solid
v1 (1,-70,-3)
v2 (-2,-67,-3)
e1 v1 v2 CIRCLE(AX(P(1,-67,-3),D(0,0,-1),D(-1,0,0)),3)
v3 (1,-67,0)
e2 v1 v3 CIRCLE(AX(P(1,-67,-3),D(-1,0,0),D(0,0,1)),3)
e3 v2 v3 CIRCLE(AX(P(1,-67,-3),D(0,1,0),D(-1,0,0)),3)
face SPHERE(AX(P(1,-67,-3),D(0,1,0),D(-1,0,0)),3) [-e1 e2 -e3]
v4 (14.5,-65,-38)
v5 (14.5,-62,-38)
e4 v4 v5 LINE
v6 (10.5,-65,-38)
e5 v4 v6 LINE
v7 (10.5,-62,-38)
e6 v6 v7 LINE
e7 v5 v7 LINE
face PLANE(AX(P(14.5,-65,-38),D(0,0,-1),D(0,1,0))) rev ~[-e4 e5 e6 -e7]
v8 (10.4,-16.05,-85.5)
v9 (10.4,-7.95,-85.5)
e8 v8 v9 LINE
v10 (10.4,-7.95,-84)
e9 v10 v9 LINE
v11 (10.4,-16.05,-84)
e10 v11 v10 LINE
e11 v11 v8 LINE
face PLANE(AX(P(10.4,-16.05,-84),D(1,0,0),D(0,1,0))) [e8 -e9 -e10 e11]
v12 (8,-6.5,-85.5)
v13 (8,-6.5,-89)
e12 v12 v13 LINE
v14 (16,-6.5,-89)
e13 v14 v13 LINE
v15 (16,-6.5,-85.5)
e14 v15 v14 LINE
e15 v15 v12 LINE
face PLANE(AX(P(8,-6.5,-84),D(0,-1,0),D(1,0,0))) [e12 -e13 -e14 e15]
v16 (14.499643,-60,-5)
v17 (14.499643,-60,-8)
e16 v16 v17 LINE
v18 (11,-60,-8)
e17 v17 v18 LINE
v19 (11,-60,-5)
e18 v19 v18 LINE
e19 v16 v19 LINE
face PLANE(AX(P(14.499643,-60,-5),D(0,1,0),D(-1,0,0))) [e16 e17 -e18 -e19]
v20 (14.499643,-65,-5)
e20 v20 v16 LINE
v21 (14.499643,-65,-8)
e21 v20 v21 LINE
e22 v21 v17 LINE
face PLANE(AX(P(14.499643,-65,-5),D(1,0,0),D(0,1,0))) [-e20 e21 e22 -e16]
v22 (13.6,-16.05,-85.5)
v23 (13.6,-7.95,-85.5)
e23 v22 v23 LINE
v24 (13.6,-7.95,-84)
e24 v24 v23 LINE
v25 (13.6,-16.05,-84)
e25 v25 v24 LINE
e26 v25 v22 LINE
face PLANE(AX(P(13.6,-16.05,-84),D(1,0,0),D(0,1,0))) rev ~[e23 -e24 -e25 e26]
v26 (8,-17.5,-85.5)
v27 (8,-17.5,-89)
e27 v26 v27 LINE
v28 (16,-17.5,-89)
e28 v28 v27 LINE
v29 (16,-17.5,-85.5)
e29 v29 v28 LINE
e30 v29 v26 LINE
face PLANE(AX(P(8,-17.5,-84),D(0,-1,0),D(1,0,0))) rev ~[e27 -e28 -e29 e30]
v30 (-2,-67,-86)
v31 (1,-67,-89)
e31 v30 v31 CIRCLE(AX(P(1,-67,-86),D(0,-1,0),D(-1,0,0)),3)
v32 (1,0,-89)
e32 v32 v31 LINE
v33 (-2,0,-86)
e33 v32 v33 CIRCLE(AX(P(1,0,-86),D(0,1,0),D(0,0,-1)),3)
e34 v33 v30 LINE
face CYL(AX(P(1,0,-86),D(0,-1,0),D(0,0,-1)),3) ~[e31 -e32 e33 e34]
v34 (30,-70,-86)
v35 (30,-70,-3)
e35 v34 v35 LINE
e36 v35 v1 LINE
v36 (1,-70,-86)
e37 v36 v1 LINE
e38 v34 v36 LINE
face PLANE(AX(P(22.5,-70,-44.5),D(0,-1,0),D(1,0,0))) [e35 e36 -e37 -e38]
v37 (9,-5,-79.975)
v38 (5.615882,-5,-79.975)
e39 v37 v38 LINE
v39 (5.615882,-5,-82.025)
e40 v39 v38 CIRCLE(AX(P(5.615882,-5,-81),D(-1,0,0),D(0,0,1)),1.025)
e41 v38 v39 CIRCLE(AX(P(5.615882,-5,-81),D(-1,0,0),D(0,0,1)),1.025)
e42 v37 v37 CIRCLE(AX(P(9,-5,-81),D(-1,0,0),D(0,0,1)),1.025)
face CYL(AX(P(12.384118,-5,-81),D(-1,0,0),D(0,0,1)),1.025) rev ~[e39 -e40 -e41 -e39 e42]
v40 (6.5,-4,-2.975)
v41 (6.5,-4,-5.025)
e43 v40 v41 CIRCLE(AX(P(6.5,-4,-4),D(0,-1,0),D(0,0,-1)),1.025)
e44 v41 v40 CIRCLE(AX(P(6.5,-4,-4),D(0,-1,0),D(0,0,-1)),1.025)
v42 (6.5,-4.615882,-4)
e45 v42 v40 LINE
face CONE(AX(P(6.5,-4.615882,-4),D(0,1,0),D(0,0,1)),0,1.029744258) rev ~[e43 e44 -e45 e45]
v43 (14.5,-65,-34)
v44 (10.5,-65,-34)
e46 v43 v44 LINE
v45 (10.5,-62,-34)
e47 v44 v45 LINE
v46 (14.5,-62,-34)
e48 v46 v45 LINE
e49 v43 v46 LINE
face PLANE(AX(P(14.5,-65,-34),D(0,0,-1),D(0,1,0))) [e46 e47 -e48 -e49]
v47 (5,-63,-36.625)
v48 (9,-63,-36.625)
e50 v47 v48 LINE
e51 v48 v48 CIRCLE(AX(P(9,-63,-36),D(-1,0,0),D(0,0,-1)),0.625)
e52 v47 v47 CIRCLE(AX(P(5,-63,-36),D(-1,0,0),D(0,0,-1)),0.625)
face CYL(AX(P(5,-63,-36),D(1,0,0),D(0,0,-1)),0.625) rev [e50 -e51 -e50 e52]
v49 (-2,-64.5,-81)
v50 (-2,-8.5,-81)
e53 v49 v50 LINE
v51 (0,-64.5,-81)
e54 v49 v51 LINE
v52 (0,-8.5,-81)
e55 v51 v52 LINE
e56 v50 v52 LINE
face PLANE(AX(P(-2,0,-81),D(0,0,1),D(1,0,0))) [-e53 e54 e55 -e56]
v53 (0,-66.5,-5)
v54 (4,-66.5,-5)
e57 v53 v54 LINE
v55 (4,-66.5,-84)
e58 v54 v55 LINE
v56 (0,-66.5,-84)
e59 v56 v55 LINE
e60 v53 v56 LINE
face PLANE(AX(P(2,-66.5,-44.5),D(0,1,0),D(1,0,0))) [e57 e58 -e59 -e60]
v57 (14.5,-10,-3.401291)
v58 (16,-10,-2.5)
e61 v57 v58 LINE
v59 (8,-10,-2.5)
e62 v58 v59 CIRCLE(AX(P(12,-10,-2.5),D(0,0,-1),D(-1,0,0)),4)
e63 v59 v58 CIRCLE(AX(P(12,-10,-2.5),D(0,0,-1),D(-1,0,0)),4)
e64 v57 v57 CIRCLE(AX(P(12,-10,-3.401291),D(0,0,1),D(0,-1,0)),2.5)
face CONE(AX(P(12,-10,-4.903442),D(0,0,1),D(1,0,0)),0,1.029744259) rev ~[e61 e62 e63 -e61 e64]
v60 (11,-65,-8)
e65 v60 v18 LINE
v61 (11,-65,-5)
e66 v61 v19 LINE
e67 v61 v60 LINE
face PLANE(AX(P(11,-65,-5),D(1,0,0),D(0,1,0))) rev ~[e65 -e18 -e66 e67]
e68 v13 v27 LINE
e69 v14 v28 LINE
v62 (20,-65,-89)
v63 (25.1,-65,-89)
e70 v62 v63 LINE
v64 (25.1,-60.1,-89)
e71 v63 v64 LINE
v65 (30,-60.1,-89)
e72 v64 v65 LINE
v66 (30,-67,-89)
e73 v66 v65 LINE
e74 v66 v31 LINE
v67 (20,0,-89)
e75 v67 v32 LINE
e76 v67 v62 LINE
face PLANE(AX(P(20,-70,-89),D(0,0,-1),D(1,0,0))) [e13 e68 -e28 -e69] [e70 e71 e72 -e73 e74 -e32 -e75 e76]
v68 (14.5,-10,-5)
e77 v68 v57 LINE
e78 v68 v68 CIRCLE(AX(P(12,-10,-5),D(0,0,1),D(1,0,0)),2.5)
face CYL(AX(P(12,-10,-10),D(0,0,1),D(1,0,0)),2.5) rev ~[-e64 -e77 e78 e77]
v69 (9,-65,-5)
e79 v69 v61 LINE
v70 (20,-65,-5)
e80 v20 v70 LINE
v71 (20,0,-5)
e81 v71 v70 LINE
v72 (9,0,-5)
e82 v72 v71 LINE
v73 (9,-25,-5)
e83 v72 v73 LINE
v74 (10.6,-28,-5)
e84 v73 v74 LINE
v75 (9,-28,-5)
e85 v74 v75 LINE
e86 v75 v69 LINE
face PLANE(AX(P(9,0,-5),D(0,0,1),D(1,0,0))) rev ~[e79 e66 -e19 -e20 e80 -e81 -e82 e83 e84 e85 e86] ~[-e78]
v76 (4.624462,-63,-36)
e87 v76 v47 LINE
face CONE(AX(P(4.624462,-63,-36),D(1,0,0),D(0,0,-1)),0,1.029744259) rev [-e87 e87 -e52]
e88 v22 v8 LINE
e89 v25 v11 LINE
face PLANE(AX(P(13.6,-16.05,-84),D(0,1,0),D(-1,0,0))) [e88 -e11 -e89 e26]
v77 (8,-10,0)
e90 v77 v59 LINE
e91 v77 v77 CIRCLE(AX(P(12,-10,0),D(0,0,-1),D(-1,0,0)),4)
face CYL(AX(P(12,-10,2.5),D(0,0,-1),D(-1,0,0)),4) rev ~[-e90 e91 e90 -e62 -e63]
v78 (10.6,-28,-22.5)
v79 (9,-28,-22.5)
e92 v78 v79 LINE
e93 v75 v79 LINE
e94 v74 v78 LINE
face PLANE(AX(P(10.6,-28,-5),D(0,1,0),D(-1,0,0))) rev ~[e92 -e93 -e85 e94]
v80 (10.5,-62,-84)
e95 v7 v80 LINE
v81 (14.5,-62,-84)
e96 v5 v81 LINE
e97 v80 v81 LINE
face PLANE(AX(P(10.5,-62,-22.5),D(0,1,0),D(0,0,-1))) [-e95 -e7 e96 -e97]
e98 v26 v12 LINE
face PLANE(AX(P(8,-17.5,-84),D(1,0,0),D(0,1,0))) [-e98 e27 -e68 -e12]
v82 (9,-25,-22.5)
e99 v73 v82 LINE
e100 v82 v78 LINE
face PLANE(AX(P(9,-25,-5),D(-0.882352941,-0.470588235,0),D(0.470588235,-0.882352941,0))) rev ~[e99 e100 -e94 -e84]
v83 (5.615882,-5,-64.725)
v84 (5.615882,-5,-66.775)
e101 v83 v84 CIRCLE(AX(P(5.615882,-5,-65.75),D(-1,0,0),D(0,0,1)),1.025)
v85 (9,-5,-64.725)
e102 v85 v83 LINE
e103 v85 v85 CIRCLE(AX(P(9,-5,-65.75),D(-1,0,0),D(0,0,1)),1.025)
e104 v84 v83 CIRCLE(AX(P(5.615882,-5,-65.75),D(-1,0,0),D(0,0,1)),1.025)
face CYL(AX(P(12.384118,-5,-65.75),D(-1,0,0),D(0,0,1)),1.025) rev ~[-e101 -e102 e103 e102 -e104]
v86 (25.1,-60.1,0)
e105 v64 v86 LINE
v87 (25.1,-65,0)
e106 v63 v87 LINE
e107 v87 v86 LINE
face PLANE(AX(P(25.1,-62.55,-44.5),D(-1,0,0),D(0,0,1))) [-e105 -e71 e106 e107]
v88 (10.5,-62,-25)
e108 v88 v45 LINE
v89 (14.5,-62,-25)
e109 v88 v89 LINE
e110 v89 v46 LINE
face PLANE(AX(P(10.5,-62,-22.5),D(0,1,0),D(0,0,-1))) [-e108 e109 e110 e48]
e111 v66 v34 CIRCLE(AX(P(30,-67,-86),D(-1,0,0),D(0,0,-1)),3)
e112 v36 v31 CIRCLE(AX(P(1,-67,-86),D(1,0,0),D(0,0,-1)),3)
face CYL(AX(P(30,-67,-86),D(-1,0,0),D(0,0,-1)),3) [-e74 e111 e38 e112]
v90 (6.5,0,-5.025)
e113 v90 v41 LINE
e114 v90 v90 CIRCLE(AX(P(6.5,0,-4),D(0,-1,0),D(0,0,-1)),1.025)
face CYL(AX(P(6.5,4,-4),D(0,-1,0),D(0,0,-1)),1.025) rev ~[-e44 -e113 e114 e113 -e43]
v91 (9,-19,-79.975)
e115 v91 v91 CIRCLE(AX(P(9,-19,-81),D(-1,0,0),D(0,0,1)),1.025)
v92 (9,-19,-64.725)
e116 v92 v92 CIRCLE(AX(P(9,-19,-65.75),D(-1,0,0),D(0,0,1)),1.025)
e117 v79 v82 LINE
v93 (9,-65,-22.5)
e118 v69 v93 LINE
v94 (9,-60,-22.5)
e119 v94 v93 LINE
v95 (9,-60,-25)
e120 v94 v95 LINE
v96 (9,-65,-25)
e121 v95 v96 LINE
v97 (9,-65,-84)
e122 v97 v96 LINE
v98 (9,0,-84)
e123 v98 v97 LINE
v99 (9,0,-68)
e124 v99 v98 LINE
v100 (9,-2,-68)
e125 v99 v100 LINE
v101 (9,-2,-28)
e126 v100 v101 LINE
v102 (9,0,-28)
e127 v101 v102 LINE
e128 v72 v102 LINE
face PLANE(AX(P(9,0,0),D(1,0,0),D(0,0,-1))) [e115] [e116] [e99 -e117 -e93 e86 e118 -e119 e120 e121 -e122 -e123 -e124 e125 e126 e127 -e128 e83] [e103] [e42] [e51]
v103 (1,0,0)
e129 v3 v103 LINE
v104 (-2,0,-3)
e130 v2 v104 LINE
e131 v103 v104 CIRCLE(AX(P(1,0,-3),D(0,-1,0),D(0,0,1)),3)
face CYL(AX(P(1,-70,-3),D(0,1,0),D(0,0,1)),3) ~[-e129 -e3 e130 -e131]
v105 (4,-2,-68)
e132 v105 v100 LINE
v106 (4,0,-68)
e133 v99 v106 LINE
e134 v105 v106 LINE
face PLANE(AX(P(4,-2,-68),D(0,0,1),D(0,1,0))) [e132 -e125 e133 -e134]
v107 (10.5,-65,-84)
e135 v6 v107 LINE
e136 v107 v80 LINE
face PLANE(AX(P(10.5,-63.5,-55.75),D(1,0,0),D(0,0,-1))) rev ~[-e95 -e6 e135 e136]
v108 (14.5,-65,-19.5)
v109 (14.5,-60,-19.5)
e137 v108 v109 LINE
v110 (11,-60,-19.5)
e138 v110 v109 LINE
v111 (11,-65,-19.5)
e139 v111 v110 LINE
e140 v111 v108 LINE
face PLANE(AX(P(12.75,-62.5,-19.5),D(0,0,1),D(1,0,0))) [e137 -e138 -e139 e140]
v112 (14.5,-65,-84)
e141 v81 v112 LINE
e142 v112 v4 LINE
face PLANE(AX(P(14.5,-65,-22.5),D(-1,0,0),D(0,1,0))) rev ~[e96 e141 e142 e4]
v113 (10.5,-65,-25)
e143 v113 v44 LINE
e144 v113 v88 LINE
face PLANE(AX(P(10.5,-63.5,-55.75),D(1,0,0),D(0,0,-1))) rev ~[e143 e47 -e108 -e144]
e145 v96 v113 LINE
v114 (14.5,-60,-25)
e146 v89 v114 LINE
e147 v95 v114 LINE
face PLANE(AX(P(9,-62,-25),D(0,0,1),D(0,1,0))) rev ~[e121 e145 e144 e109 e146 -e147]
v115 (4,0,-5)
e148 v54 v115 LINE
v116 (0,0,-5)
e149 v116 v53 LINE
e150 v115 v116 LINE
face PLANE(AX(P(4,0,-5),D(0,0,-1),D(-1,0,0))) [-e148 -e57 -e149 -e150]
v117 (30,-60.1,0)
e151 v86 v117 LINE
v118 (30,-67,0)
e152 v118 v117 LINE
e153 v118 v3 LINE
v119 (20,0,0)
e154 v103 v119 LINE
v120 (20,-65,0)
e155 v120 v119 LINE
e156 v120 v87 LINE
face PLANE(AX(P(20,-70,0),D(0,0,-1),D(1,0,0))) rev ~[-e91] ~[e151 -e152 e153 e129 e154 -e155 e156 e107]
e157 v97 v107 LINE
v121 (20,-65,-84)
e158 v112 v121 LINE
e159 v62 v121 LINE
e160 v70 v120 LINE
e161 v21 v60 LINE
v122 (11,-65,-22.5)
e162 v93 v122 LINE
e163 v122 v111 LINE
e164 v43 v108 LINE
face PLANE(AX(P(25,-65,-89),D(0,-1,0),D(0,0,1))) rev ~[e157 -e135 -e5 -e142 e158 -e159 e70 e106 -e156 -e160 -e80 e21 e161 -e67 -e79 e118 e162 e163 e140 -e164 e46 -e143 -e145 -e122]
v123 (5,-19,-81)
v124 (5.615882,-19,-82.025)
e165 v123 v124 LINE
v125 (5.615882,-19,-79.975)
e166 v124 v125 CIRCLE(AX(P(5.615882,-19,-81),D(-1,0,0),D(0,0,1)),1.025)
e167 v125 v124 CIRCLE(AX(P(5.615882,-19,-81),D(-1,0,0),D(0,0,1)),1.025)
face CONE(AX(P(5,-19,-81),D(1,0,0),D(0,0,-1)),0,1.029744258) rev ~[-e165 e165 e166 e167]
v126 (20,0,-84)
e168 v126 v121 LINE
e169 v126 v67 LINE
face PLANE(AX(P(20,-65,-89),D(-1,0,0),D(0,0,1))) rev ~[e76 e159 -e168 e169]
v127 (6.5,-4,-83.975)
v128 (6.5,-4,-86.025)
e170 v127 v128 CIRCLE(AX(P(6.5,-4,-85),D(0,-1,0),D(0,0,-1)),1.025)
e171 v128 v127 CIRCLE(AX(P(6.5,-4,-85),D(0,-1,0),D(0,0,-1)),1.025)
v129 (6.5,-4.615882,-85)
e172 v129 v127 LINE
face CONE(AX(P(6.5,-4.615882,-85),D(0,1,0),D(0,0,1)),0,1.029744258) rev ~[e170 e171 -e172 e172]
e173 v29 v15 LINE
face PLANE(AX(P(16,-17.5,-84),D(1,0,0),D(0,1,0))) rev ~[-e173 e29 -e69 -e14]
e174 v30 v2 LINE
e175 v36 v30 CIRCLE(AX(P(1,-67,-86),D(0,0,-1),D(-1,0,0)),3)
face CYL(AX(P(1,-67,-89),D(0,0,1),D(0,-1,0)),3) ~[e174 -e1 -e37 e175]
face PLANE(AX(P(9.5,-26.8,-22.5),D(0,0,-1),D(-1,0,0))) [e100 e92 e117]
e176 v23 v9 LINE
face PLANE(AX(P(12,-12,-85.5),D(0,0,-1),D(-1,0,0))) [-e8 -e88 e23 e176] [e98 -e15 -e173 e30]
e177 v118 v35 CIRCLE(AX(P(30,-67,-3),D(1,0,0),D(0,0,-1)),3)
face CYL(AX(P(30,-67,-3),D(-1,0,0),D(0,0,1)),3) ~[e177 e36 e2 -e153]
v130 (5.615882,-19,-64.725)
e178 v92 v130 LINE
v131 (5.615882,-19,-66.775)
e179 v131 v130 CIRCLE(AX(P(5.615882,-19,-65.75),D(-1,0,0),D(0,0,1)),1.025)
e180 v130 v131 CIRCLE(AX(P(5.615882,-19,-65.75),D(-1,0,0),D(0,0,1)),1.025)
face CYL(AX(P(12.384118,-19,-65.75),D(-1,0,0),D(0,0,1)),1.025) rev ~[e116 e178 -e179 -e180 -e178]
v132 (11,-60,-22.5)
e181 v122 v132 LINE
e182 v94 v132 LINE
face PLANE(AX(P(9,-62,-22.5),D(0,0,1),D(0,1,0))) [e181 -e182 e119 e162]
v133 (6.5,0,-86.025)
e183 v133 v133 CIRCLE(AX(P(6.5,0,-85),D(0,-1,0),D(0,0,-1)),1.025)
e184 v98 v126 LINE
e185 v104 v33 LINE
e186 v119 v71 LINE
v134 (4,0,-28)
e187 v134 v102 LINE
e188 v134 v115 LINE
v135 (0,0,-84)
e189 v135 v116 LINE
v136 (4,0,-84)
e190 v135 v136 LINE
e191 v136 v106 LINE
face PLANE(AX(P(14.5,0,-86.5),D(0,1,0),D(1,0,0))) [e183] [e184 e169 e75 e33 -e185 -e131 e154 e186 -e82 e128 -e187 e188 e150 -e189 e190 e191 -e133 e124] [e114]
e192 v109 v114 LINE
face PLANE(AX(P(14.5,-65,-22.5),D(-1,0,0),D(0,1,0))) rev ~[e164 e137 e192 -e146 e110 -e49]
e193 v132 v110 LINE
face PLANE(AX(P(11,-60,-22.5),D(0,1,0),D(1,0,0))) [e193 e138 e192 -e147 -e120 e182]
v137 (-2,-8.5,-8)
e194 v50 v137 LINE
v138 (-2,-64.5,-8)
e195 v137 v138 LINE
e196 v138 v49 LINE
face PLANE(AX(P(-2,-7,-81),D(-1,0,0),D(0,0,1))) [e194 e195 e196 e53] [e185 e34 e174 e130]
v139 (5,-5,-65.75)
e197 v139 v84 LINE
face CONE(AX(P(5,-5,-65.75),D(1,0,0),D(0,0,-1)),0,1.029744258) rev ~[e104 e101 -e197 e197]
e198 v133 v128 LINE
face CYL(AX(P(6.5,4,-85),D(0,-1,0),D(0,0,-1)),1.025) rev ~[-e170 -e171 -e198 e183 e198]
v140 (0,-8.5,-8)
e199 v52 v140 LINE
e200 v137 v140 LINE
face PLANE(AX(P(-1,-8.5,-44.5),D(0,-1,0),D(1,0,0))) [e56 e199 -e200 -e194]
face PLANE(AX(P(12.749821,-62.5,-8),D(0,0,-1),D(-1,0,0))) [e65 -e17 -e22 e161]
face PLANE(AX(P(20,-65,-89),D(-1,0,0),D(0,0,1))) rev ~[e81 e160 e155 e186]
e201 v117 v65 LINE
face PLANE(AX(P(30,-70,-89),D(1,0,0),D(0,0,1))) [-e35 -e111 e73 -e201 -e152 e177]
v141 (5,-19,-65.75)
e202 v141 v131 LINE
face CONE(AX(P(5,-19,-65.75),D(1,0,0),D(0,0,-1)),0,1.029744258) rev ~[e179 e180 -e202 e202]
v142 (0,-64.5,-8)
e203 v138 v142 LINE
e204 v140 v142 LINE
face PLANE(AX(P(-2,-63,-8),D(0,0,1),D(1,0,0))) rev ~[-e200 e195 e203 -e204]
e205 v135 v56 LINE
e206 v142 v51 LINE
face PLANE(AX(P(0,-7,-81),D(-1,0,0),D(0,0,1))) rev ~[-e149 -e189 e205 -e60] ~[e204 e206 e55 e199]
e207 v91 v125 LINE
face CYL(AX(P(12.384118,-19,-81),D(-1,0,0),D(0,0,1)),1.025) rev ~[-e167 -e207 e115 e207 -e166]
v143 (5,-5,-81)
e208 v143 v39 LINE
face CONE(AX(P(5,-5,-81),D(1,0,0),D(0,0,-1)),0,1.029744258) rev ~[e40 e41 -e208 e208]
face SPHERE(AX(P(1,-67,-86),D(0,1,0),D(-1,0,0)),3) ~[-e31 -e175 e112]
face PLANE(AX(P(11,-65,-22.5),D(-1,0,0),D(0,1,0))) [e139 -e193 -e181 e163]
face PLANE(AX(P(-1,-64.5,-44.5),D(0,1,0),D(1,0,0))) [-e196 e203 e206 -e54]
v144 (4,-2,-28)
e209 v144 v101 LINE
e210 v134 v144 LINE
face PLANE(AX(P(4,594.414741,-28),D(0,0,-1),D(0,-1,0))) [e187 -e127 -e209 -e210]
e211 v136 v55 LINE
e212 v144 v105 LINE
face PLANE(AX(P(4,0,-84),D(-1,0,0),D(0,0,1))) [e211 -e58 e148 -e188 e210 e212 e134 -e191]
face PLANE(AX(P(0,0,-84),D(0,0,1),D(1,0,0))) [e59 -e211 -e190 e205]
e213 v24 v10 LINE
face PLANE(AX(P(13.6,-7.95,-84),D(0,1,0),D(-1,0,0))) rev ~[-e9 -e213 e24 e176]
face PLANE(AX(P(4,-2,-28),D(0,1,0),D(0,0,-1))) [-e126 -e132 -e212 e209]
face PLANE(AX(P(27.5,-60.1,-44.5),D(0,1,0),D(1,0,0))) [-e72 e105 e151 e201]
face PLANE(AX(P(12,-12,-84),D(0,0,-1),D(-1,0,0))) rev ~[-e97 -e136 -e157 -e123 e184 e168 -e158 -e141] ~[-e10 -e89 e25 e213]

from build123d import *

# Parameters (mm, degrees)
BOSS_EXTRUDE4_DEPTH          = 65
SKETCH5_W                    = 73
SKETCH5_H                    = 7
SKETCH5_H_2                  = 2
BOSS_EXTRUDE5_DEPTH          = 2
CUT_EXTRUDE8_DEPTH           = 111.756489652
CUT_EXTRUDE8_DEPTH_BACK      = 5
SKETCH9_W                    = 5
SKETCH9_H                    = 3
SKETCH9_W_2                  = 2.5
BOSS_EXTRUDE8_DEPTH          = 1.5
SKETCH10_W                   = 66.5
SKETCH10_H                   = 3
BOSS_EXTRUDE9_DEPTH          = 4
M2_5X0_45_TAPPED_HOLE1_D     = 2.05
M2_5X0_45_TAPPED_HOLE1_DEPTH = 3.384117865
M2_5X0_45_TAPPED_HOLE1_TIP   = 0.615882135
SKETCH17_W                   = 11
SKETCH17_H                   = 5
BOSS_EXTRUDE20_DEPTH         = 65
CUT_EXTRUDE10_REACH          = 110.079
SKETCH18_W                   = 8
SKETCH18_H                   = 11
SKETCH20_W                   = 2.5
SKETCH20_H                   = 2
BOSS_EXTRUDE13_DEPTH         = 5.5
SKETCH22_W                   = 3.5
SKETCH22_H                   = 5
BOSS_EXTRUDE21_DEPTH         = 3
SKETCH23_W                   = 3.499642839
SKETCH23_H                   = 5
BOSS_EXTRUDE17_DEPTH         = 3
BOSS_EXTRUDE18_DEPTH         = 17.5
SKETCH27_W                   = 4
SKETCH27_H                   = 3
CUT_EXTRUDE12_DEPTH          = 5.5
M2_5X0_45_TAPPED_HOLE2_D     = 2.05
M2_5X0_45_TAPPED_HOLE2_DEPTH = 4
M2_5X0_45_TAPPED_HOLE2_TIP   = 0.615882135
SKETCH31_W                   = 8
SKETCH31_H                   = 11
SKETCH31_W_2                 = 3.2
SKETCH31_H_2                 = 8.1
BOSS_EXTRUDE22_DEPTH         = 1.5
F_5_0MM_DOWEL_HOLE1_D        = 5
F_5_0MM_DOWEL_HOLE1_DEPTH    = 5
SKETCH36_W                   = 22
SKETCH36_H                   = 89
BOSS_EXTRUDE23_DEPTH         = 5
F_8_0MM_DOWEL_HOLE1_D        = 8
F_8_0MM_DOWEL_HOLE1_DEPTH    = 2.5
F_8_0MM_DOWEL_HOLE1_TIP      = 2.403442476
SKETCH42_W                   = 2
SKETCH42_H                   = 73
BOSS_EXTRUDE25_DEPTH         = 1.5
SKETCH43_W                   = 2
SKETCH43_H                   = 73
CUT_EXTRUDE13_DEPTH          = 1.5
SKETCH44_W                   = 4
SKETCH44_H                   = 79
CUT_EXTRUDE14_DEPTH          = 1.5
SKETCH46_W                   = 5
SKETCH46_H                   = 89
BOSS_EXTRUDE26_DEPTH         = 10
SKETCH46_3_W                 = 5
SKETCH46_3_H                 = 89
BOSS_EXTRUDE27_DEPTH         = 5
FILLET1_R                    = 3
SKETCH47_W                   = 5
SKETCH47_H                   = 89
CUT_EXTRUDE15_DEPTH          = 0.1
SKETCH48_W                   = 89
SKETCH48_H                   = 4.9
CUT_EXTRUDE16_DEPTH          = 0.1


with BuildPart() as part:
    # Sketch4 → Boss-Extrude4 (new body)
    with BuildSketch(Plane(origin=(0, 0, 0), x_dir=(1, 0, 0), z_dir=(0, 1, 0))):
        Polygon((0, 0), (9, 0), (9, 89), (0, 89), (-2, 89), (-2, 81), (0, 81), (0, 84), (4, 84), (4, 5), (0, 5), (0, 8), (-2, 8), (-2, 0), align=None)
    extrude(amount=-BOSS_EXTRUDE4_DEPTH)

    # Sketch5 → Boss-Extrude5 (add)
    with BuildSketch(Plane.ZY.offset(2)):
        with Locations((-44.5, -3.5)):
            Rectangle(SKETCH5_W, SKETCH5_H)
        with Locations((-44.5, -64)):
            Rectangle(SKETCH5_W, SKETCH5_H_2)
    extrude(amount=-BOSS_EXTRUDE5_DEPTH)

    # Sketch8 → Cut-Extrude8 (cut, two sides: drawn at the far end of the back side and taken through both)
    with BuildSketch(Plane(origin=(9, 0, 0), x_dir=(0, 0, -1), z_dir=(1, 0, 0)).offset(-CUT_EXTRUDE8_DEPTH_BACK)):
        Polygon((28, 198.138247042), (28, 0), (28, -2), (68, -2), (68, 0), (68, 198.138247042), (68, 594.414741126), (28, 594.414741126), align=None)
    extrude(amount=CUT_EXTRUDE8_DEPTH + CUT_EXTRUDE8_DEPTH_BACK, mode=Mode.SUBTRACT)

    # Sketch9 → Boss-Extrude8 (add)
    with BuildSketch(Plane(origin=(9, 0, 0), x_dir=(0, 0, -1), z_dir=(1, 0, 0))):
        with Locations((86.5, -63.5)):
            Rectangle(SKETCH9_W, SKETCH9_H)
        with Locations((23.75, -63.5)):
            Rectangle(SKETCH9_W_2, SKETCH9_H)
    extrude(amount=BOSS_EXTRUDE8_DEPTH)

    # Sketch10 → Boss-Extrude9 (add)
    with BuildSketch(Plane(origin=(10.5, 0, 0), x_dir=(0, 0, -1), z_dir=(1, 0, 0))):
        with Locations((55.75, -63.5)):
            Rectangle(SKETCH10_W, SKETCH10_H)
    extrude(amount=BOSS_EXTRUDE9_DEPTH)

    # M2.5x0.45 Tapped Hole1
    with Locations(Plane(origin=(9, 0, 0), x_dir=(0, 0, -1), z_dir=(1, 0, 0))):
        with Locations((81, -5), (65.75, -19), (81, -19), (65.75, -5)):
            Hole(M2_5X0_45_TAPPED_HOLE1_D / 2, depth=M2_5X0_45_TAPPED_HOLE1_DEPTH)
            with Locations((0, 0, -(M2_5X0_45_TAPPED_HOLE1_DEPTH + M2_5X0_45_TAPPED_HOLE1_TIP / 2))):  # 118° drill point
                Cone(0, M2_5X0_45_TAPPED_HOLE1_D / 2, M2_5X0_45_TAPPED_HOLE1_TIP, mode=Mode.SUBTRACT)

    # Sketch17 → Boss-Extrude20 (add)
    with BuildSketch(Plane(origin=(0, 0, 0), x_dir=(1, 0, 0), z_dir=(0, 1, 0))):
        with Locations((14.5, 86.5)):
            Rectangle(SKETCH17_W, SKETCH17_H)
        with Locations((14.5, 2.5)):
            Rectangle(SKETCH17_W, SKETCH17_H)
    extrude(amount=-BOSS_EXTRUDE20_DEPTH)

    # Sketch18 → Cut-Extrude10 (cut, up to next)
    with BuildSketch(Plane.XY.offset(-84), mode=Mode.PRIVATE) as cut_extrude10_sk1:
        with Locations((12, -12)):
            Rectangle(SKETCH18_W, SKETCH18_H)
    cut_extrude10_tool1 = extrude(cut_extrude10_sk1.sketch, amount=-CUT_EXTRUDE10_REACH, mode=Mode.PRIVATE) & part.part
    add(cut_extrude10_tool1.solids().sort_by_distance((12, -12, -84))[0], mode=Mode.SUBTRACT)

    # Sketch20 → Boss-Extrude13 (add)
    with BuildSketch(Plane(origin=(9, 0, 0), x_dir=(0, 0, -1), z_dir=(1, 0, 0))):
        with Locations((23.75, -61)):
            Rectangle(SKETCH20_W, SKETCH20_H)
    extrude(amount=BOSS_EXTRUDE13_DEPTH)

    # Sketch22 → Boss-Extrude21 (add)
    with BuildSketch(Plane.XY.offset(-22.5)):
        with Locations((12.75, -62.5)):
            Rectangle(SKETCH22_W, SKETCH22_H)
    extrude(amount=BOSS_EXTRUDE21_DEPTH)

    # Sketch23 → Boss-Extrude17 (add)
    with BuildSketch(Plane(origin=(0, 0, -5), x_dir=(-1, 0, 0), z_dir=(0, 0, -1))):
        with Locations((-12.74982142, -62.5)):
            Rectangle(SKETCH23_W, SKETCH23_H)
    extrude(amount=BOSS_EXTRUDE17_DEPTH)

    # Sketch24 → Boss-Extrude18 (add)
    with BuildSketch(Plane(origin=(0, 0, -5), x_dir=(-1, 0, 0), z_dir=(0, 0, -1))):
        Polygon((-9, -25), (-10.6, -28), (-9, -28), align=None)
    extrude(amount=BOSS_EXTRUDE18_DEPTH)

    # Sketch25 → M1.6x0.35 Tapped Hole2 (revolve, cut)
    with BuildSketch(Plane(origin=(9, -63, -36), x_dir=(0, 0, -1), z_dir=(0, 1, 0))):
        Polygon((0, 0), (0, 4.375537887), (0.625, 4), (0.625, 0), align=None)
    revolve(axis=Axis((15.35, -63, -36), (-1, 0, 0)), mode=Mode.SUBTRACT)

    # Sketch27 → Cut-Extrude12 (cut)
    with BuildSketch(Plane(origin=(14.5, 0, 0), x_dir=(0, 0, -1), z_dir=(1, 0, 0))):
        with Locations((36, -63.5)):
            Rectangle(SKETCH27_W, SKETCH27_H)
    extrude(amount=-CUT_EXTRUDE12_DEPTH, mode=Mode.SUBTRACT)

    # M2.5x0.45 Tapped Hole2
    with Locations(Plane(origin=(6.5, 0, -4), x_dir=(0, 0, 1), z_dir=(0, 1, 0))):
        with Locations((0, 0), (-81, 0)):
            Hole(M2_5X0_45_TAPPED_HOLE2_D / 2, depth=M2_5X0_45_TAPPED_HOLE2_DEPTH)
            with Locations((0, 0, -(M2_5X0_45_TAPPED_HOLE2_DEPTH + M2_5X0_45_TAPPED_HOLE2_TIP / 2))):  # 118° drill point
                Cone(0, M2_5X0_45_TAPPED_HOLE2_D / 2, M2_5X0_45_TAPPED_HOLE2_TIP, mode=Mode.SUBTRACT)

    # Sketch31 → Boss-Extrude22 (add)
    with BuildSketch(Plane(origin=(0, 0, -84), x_dir=(-1, 0, 0), z_dir=(0, 0, -1))):
        with Locations((-12, -12)):
            Rectangle(SKETCH31_W, SKETCH31_H)
        with Locations((-12, -12)):
            Rectangle(SKETCH31_W_2, SKETCH31_H_2, mode=Mode.SUBTRACT)
    extrude(amount=BOSS_EXTRUDE22_DEPTH)

    # Ø5.0mm Dowel Hole1
    with Locations(Plane(origin=(0, 0, -5), x_dir=(-1, 0, 0), z_dir=(0, 0, -1))):
        with Locations((-12, -10)):
            Hole(F_5_0MM_DOWEL_HOLE1_D / 2, depth=F_5_0MM_DOWEL_HOLE1_DEPTH)

    # Sketch36 → Boss-Extrude23 (add)
    with BuildSketch(Plane.XZ.offset(65)):
        with Locations((9, -44.5)):
            Rectangle(SKETCH36_W, SKETCH36_H)
    extrude(amount=BOSS_EXTRUDE23_DEPTH)

    # Ø8.0mm Dowel Hole1
    with Locations(Plane.XY):
        with Locations((12, -10)):
            Hole(F_8_0MM_DOWEL_HOLE1_D / 2, depth=F_8_0MM_DOWEL_HOLE1_DEPTH)
            with Locations((0, 0, -(F_8_0MM_DOWEL_HOLE1_DEPTH + F_8_0MM_DOWEL_HOLE1_TIP / 2))):  # 118° drill point
                Cone(0, F_8_0MM_DOWEL_HOLE1_D / 2, F_8_0MM_DOWEL_HOLE1_TIP, mode=Mode.SUBTRACT)

    # Sketch42 → Boss-Extrude25 (add)
    with BuildSketch(Plane.XZ.offset(7)):
        with Locations((-1, -44.5)):
            Rectangle(SKETCH42_W, SKETCH42_H)
    extrude(amount=BOSS_EXTRUDE25_DEPTH)

    # Sketch43 → Cut-Extrude13 (cut)
    with BuildSketch(Plane(origin=(0, -63, 0), x_dir=(1, 0, 0), z_dir=(0, 1, 0))):
        with Locations((-1, 44.5)):
            Rectangle(SKETCH43_W, SKETCH43_H)
    extrude(amount=-CUT_EXTRUDE13_DEPTH, mode=Mode.SUBTRACT)

    # Sketch44 → Cut-Extrude14 (cut)
    with BuildSketch(Plane(origin=(0, -65, 0), x_dir=(1, 0, 0), z_dir=(0, 1, 0))):
        with Locations((2, 44.5)):
            Rectangle(SKETCH44_W, SKETCH44_H)
    extrude(amount=-CUT_EXTRUDE14_DEPTH, mode=Mode.SUBTRACT)



with BuildPart() as body_2:
    # Sketch46 → Boss-Extrude26 (new body)
    with BuildSketch(Plane.XZ.offset(70)):
        with Locations((27.5, -44.5)):
            Rectangle(SKETCH46_W, SKETCH46_H)
    extrude(amount=-BOSS_EXTRUDE26_DEPTH)


with BuildPart() as part_1:
    add(part.part)

    add(body_2.part)  # Boss-Extrude27 merges body 2
    # Sketch46<3> → Boss-Extrude27 (add)
    with BuildSketch(Plane.XZ.offset(70)):
        with Locations((22.5, -44.5)):
            Rectangle(SKETCH46_3_W, SKETCH46_3_H)
    extrude(amount=-BOSS_EXTRUDE27_DEPTH)

    # Fillet1
    fillet1_edges = [part_1.edges().sort_by_distance(p)[0] for p in [
        (-2, -35, 0),
        (-2, -35, -89),
        (-2, -70, -44.5),
        (14, -70, -89),
        (14, -70, 0),
    ]]
    fillet(fillet1_edges, radius=FILLET1_R)

    # Sketch47 → Cut-Extrude15 (cut)
    with BuildSketch(Plane(origin=(0, -60, 0), x_dir=(1, 0, 0), z_dir=(0, 1, 0))):
        with Locations((27.5, 44.5)):
            Rectangle(SKETCH47_W, SKETCH47_H)
    extrude(amount=-CUT_EXTRUDE15_DEPTH, mode=Mode.SUBTRACT)

    # Sketch48 → Cut-Extrude16 (cut)
    with BuildSketch(Plane.ZY.offset(-25)):
        with Locations((-44.5, -62.55)):
            Rectangle(SKETCH48_W, SKETCH48_H)
    extrude(amount=-CUT_EXTRUDE16_DEPTH, mode=Mode.SUBTRACT)


solid = part_1.part
